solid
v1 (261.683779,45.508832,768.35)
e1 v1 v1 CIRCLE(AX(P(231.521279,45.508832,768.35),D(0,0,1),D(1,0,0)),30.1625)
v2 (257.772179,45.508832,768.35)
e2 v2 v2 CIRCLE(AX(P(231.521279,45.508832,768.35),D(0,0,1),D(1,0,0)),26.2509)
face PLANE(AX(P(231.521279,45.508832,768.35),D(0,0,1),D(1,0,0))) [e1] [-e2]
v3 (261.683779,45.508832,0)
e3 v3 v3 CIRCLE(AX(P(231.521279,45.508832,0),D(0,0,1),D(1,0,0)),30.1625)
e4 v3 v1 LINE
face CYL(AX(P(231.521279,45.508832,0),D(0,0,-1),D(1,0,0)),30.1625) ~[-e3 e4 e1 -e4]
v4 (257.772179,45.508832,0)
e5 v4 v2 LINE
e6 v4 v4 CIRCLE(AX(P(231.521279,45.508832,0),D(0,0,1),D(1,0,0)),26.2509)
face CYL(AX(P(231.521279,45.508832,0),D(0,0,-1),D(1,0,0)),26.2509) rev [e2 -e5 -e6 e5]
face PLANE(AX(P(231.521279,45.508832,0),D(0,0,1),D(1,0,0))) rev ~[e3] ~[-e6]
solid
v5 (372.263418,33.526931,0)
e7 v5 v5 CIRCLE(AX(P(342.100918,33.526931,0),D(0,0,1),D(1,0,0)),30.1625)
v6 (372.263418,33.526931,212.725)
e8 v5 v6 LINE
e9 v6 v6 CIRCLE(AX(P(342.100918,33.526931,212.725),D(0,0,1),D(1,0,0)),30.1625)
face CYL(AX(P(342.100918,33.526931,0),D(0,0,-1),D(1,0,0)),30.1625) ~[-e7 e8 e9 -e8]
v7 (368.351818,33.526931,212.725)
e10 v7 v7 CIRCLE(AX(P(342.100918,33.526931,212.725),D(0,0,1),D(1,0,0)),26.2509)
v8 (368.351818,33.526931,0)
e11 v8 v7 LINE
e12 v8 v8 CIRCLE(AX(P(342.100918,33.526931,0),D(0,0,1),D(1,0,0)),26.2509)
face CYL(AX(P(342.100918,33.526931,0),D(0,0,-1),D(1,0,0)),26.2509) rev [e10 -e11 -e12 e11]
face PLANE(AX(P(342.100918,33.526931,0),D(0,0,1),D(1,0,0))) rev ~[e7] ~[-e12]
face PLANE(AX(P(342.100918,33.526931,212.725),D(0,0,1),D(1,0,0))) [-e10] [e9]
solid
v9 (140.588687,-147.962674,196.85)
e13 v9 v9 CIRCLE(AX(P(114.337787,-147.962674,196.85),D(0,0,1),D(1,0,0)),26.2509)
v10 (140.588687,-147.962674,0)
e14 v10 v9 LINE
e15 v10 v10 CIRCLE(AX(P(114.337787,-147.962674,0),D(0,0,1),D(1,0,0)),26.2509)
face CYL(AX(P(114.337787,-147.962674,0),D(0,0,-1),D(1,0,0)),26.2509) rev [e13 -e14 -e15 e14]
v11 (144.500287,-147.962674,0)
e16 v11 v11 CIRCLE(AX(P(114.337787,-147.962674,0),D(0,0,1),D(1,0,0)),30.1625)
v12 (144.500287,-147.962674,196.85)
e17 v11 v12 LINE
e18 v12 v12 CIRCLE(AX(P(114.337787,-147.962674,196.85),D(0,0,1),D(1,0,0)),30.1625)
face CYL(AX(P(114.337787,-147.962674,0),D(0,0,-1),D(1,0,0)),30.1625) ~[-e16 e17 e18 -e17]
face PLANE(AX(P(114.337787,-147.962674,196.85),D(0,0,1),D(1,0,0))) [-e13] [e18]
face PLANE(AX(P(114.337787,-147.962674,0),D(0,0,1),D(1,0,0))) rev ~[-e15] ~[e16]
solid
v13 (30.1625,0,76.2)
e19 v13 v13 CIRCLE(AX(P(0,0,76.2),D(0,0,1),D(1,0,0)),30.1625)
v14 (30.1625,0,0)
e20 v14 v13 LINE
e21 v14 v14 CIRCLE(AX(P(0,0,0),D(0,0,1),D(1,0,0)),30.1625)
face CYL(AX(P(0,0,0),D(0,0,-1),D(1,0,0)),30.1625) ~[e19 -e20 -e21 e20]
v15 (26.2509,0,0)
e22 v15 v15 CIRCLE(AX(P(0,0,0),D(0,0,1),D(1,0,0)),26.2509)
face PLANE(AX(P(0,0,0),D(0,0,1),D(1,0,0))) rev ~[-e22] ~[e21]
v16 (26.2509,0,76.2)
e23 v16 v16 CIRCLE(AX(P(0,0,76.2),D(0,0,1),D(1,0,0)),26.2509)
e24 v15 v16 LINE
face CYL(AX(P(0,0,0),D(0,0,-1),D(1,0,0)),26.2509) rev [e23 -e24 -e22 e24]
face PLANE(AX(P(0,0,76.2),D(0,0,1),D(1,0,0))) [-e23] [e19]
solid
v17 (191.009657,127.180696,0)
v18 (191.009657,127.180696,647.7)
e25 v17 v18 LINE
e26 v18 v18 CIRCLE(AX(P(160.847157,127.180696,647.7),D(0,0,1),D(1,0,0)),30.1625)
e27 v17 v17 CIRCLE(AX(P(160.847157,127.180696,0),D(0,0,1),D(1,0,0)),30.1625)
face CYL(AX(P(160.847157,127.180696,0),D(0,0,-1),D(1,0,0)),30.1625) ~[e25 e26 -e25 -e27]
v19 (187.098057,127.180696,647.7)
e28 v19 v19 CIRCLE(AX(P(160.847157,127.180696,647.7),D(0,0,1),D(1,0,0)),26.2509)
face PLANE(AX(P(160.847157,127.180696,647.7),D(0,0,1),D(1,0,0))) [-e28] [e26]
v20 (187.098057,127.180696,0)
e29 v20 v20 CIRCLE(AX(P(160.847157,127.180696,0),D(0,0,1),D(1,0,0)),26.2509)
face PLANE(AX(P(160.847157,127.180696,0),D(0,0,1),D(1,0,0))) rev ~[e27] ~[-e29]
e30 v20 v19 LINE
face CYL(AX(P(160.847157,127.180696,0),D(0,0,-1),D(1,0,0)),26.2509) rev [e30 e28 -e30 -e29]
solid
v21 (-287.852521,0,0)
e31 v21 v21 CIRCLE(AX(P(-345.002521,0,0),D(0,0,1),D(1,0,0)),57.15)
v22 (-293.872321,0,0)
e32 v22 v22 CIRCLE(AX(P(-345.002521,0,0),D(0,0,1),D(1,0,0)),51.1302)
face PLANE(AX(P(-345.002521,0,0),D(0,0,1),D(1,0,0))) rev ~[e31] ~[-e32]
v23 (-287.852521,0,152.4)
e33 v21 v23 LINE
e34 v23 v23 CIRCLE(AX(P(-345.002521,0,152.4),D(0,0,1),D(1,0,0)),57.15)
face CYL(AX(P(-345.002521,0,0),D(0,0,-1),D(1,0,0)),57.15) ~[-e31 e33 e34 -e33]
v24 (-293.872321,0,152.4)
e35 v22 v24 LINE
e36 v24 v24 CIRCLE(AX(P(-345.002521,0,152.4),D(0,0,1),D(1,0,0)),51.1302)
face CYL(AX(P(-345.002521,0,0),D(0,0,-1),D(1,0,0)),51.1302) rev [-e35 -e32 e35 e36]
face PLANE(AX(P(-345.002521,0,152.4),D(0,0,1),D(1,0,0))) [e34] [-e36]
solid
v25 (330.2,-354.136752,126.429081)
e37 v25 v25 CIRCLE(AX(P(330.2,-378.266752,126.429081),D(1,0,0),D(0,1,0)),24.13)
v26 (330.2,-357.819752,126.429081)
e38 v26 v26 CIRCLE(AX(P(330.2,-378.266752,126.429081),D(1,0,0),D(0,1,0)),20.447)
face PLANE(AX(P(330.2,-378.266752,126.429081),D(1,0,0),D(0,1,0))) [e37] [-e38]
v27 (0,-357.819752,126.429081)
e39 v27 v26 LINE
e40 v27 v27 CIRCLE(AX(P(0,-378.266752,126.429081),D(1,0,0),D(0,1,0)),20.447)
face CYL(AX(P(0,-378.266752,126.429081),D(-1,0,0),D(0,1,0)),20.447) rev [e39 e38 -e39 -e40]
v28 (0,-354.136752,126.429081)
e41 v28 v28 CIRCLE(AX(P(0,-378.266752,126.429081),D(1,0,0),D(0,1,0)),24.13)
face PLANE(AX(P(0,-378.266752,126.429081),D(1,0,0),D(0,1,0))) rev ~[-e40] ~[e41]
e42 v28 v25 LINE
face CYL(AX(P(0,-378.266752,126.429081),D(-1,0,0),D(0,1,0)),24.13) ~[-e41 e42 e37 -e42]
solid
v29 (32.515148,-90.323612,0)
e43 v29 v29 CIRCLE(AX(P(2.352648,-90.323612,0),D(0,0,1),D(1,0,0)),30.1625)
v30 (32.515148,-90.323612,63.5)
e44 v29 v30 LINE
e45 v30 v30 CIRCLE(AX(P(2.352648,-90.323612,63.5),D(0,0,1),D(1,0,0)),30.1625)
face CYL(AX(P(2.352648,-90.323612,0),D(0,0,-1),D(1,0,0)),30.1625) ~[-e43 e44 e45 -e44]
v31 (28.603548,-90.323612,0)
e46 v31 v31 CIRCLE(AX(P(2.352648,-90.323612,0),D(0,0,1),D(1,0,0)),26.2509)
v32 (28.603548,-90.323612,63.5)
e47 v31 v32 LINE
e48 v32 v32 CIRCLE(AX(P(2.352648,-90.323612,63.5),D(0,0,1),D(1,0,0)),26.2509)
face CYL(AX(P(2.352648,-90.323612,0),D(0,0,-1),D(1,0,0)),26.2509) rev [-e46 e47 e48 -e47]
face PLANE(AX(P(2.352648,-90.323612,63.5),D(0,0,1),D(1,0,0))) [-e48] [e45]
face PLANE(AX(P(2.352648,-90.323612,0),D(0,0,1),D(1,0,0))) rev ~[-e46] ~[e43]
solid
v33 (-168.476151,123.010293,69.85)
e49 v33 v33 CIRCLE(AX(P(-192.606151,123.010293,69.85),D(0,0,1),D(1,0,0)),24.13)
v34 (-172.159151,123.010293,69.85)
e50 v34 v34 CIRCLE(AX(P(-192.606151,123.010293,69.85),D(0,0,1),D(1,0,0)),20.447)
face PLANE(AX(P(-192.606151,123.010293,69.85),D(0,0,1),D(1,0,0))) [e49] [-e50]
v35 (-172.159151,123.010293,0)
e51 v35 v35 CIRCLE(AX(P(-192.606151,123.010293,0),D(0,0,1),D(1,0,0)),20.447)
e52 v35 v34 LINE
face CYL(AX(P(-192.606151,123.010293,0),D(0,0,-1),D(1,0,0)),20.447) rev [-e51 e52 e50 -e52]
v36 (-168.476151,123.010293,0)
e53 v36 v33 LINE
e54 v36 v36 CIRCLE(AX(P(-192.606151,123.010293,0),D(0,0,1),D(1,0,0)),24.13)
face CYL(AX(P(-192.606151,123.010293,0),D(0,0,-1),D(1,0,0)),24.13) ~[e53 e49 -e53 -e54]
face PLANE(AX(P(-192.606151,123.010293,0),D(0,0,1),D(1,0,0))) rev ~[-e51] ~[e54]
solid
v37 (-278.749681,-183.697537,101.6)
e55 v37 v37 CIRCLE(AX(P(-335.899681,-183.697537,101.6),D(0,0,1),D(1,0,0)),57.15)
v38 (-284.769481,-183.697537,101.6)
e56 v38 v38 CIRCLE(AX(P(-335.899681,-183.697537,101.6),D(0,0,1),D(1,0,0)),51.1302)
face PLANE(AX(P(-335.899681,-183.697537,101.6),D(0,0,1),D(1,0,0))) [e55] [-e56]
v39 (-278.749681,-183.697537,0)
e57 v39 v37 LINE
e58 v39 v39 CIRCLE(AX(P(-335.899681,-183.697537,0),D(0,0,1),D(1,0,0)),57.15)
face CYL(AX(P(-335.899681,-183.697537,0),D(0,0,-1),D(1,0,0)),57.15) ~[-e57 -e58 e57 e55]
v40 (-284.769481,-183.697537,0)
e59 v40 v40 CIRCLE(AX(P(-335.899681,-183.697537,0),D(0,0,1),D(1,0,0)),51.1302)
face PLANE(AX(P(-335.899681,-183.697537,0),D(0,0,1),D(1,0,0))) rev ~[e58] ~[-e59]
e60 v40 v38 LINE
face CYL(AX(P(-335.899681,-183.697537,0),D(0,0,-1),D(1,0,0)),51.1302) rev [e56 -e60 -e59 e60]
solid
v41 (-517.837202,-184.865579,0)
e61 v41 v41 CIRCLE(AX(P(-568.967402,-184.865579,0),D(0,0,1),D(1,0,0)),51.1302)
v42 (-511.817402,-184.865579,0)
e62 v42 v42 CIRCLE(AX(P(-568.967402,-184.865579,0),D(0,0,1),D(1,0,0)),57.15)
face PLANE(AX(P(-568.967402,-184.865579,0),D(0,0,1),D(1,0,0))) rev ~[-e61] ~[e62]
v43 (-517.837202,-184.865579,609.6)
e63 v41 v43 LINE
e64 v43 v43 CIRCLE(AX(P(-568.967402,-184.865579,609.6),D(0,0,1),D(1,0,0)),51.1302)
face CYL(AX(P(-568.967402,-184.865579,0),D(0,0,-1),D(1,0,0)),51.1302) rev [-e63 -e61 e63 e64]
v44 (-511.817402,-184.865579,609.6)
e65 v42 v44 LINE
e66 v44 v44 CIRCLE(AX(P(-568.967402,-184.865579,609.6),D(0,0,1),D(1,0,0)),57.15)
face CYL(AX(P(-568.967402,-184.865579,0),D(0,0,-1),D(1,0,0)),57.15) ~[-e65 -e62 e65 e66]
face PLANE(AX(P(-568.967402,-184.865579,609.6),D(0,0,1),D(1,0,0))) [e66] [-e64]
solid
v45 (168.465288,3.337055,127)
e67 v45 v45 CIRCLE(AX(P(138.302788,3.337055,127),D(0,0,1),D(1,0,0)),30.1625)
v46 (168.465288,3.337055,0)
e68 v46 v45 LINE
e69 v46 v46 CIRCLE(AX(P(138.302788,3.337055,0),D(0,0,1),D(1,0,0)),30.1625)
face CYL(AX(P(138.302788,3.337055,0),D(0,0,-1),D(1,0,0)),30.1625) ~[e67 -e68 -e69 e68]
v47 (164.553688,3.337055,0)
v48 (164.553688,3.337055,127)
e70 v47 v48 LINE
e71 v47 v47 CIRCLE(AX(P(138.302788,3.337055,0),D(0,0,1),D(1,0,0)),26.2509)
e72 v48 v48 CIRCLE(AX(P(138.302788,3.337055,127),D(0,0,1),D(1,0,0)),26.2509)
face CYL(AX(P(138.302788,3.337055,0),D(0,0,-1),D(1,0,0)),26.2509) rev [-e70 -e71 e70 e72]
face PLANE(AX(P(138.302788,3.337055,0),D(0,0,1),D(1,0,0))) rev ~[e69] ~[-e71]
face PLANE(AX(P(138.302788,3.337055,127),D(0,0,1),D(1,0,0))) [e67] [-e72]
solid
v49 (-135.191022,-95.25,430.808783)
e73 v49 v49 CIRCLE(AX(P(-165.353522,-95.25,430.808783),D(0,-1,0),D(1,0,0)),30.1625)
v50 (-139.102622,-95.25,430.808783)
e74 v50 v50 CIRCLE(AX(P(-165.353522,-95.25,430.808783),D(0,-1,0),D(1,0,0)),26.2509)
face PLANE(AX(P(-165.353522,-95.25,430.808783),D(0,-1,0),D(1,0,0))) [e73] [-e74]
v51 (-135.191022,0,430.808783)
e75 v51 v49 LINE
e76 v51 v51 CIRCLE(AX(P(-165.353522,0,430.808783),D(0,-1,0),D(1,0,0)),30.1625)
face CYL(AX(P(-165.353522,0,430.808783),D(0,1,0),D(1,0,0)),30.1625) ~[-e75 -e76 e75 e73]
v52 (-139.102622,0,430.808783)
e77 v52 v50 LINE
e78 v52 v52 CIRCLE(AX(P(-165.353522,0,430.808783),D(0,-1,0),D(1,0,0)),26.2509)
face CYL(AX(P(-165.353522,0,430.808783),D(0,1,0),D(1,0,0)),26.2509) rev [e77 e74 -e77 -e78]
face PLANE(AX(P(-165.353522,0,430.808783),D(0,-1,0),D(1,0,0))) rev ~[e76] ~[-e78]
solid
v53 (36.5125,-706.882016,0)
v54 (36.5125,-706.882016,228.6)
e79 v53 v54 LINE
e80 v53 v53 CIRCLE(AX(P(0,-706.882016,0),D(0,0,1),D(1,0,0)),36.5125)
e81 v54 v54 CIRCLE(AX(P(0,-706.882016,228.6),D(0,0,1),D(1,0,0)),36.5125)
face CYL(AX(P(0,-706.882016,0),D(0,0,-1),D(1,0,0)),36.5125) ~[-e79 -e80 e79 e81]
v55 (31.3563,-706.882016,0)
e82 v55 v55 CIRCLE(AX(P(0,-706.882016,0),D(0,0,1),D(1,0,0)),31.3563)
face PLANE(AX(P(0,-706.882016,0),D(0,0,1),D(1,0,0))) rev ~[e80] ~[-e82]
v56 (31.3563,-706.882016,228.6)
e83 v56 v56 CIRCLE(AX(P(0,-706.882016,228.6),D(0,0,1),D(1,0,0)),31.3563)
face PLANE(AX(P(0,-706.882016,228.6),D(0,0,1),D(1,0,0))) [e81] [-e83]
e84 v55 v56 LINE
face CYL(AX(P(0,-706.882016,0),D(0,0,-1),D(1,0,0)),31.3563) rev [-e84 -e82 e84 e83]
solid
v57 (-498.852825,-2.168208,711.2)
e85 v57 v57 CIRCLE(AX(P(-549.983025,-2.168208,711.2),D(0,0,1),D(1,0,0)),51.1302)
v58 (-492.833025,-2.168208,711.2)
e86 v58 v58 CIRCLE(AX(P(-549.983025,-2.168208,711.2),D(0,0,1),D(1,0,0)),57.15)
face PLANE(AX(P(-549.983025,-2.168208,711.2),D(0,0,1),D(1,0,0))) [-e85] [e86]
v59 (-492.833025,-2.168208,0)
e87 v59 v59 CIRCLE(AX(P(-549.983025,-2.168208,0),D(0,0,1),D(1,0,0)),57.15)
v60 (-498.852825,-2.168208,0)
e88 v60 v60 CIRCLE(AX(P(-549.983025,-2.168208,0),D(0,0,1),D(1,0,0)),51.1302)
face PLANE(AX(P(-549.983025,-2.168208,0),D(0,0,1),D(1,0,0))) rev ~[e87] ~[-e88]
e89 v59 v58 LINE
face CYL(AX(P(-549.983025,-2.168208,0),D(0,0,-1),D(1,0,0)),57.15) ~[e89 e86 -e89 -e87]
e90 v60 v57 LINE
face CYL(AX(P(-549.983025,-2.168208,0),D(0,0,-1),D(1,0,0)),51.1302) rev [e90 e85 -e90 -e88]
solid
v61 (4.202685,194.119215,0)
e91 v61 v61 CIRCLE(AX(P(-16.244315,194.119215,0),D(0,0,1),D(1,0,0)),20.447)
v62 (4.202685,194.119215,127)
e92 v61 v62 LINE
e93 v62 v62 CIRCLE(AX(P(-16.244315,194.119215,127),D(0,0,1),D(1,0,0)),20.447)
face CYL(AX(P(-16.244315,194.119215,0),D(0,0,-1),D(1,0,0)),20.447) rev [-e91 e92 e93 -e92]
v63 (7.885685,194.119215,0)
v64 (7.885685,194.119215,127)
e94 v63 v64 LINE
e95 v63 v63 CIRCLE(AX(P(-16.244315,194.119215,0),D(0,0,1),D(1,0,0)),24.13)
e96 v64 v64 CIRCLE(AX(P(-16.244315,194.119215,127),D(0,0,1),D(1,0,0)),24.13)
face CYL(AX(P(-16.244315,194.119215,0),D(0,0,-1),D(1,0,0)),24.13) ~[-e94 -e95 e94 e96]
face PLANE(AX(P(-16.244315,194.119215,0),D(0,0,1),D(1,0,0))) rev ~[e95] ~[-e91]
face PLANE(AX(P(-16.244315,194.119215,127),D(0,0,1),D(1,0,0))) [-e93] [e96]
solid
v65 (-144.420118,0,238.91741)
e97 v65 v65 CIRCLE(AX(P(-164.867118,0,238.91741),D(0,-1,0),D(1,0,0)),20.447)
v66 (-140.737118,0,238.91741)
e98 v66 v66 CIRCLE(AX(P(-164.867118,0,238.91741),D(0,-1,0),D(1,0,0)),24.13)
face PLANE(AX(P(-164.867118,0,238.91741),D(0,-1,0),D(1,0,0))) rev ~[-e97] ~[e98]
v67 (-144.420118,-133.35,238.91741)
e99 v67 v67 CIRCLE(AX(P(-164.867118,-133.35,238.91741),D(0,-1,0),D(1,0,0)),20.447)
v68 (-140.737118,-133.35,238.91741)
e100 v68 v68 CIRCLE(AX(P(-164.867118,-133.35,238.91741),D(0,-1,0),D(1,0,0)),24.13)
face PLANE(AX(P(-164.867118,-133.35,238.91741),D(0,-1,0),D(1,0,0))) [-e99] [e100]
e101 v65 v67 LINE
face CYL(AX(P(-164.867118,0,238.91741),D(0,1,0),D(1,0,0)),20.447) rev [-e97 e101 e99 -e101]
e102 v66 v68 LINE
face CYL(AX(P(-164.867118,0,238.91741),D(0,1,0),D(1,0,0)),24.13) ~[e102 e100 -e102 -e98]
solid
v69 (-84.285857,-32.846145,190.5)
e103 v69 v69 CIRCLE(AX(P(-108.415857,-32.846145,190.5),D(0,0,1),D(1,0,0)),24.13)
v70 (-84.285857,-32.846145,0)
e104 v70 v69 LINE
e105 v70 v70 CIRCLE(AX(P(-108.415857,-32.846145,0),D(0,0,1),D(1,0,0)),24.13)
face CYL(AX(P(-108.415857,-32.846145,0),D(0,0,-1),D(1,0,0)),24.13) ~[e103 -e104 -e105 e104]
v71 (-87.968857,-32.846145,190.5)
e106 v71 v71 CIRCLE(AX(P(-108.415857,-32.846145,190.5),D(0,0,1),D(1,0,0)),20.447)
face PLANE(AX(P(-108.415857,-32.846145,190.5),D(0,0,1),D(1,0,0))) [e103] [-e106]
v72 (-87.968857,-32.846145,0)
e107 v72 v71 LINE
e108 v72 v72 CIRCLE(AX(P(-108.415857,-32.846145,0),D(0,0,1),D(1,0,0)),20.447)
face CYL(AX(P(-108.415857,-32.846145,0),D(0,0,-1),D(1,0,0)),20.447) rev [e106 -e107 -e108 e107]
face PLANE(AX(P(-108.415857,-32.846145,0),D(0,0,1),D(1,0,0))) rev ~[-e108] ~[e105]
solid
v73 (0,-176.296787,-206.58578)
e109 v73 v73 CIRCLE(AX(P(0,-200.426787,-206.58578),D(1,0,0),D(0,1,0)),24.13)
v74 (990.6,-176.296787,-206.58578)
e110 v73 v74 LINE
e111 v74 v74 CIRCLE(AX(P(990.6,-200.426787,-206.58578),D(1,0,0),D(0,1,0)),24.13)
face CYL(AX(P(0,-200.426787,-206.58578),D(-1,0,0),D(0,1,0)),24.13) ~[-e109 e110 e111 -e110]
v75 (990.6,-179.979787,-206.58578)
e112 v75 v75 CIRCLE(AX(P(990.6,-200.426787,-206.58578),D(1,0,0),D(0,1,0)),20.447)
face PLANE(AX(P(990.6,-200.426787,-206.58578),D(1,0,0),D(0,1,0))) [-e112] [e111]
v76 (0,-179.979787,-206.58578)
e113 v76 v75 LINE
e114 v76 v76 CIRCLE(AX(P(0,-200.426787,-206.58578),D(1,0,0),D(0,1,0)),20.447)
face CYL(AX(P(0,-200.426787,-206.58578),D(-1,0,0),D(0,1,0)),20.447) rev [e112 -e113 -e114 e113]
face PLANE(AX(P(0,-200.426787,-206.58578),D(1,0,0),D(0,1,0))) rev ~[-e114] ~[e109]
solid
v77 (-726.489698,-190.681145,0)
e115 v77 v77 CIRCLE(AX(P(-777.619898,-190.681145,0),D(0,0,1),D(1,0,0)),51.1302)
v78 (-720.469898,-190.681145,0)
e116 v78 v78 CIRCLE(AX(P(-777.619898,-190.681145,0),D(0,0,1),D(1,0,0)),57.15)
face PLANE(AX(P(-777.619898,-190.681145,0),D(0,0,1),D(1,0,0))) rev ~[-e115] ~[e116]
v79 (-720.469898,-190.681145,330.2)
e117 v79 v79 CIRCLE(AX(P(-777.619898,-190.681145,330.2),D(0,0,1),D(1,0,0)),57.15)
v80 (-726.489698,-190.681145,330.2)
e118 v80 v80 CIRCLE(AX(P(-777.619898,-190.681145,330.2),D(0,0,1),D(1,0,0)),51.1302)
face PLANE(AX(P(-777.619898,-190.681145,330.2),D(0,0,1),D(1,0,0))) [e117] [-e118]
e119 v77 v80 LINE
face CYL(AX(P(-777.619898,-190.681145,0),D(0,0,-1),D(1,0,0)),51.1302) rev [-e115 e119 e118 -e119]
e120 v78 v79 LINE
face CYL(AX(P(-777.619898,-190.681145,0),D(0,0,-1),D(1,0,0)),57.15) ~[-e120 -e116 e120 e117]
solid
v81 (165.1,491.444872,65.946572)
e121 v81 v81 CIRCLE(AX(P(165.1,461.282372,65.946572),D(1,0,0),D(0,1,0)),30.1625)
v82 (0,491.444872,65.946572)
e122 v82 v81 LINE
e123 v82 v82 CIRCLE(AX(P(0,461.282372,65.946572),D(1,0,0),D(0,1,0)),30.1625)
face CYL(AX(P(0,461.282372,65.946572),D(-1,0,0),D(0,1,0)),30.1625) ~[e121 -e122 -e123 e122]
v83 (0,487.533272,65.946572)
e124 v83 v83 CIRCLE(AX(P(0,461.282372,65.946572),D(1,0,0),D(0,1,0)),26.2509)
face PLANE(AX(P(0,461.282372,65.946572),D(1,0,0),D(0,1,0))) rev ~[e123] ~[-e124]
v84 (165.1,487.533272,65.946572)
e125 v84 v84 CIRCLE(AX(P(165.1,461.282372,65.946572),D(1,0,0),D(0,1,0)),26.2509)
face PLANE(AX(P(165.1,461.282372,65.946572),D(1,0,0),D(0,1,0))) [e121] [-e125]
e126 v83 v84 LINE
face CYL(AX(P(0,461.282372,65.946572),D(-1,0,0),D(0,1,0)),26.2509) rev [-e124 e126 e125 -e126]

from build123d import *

# Parameters (mm, degrees)
F0_R      = 30.1625
F0_R_2    = 26.2509
F1_DEPTH  = 76.2
F2_R      = 30.1625
F2_R_2    = 26.2509
F3_DEPTH  = 127
F4_R      = 30.1625
F4_R_2    = 26.2509
F5_DEPTH  = 768.35
F6_R      = 30.1625
F6_R_2    = 26.2509
F7_DEPTH  = 165.1
F9_R      = 24.13
F9_R_2    = 20.447
F10_DEPTH = 133.35
F11_R     = 24.13
F11_R_2   = 20.447
F12_DEPTH = 330.2
F13_R     = 24.13
F13_R_2   = 20.447
F14_DEPTH = 127
F15_R     = 24.13
F15_R_2   = 20.447
F16_DEPTH = 990.6
F8_R      = 24.13
F8_R_2    = 20.447
F17_DEPTH = 69.85
F18_R     = 24.13
F18_R_2   = 20.447
F19_DEPTH = 190.5
F20_R     = 30.1625
F20_R_2   = 26.2509
F21_DEPTH = 647.7
F22_R     = 57.15
F22_R_2   = 51.1302
F23_DEPTH = 152.4
F24_R     = 57.15
F24_R_2   = 51.1302
F25_DEPTH = 711.2
F26_R     = 57.15
F26_R_2   = 51.1302
F27_DEPTH = 101.6
F28_R     = 57.15
F28_R_2   = 51.1302
F29_DEPTH = 609.6
F30_R     = 57.15
F30_R_2   = 51.1302
F31_DEPTH = 330.2
F32_R     = 30.1625
F32_R_2   = 26.2509
F33_DEPTH = 212.725
F34_R     = 30.1625
F34_R_2   = 26.2509
F35_DEPTH = 95.25
F36_R     = 30.1625
F36_R_2   = 26.2509
F37_DEPTH = 63.5
F38_R     = 30.1625
F38_R_2   = 26.2509
F39_DEPTH = 196.85
F40_R     = 36.5125
F40_R_2   = 31.3563
F41_DEPTH = 228.6


with BuildPart() as f1:
    # F0 (on Top) → F1 (new body)
    with BuildSketch(Plane.XY):
        Circle(F0_R)
        Circle(F0_R_2, mode=Mode.SUBTRACT)
    extrude(amount=F1_DEPTH)


with BuildPart() as f3:
    # F2 (on Top) → F3 (new body)
    with BuildSketch(Plane.XY):
        with Locations((138.302788, 3.337055)):
            Circle(F2_R)
        with Locations((138.302788, 3.337055)):
            Circle(F2_R_2, mode=Mode.SUBTRACT)
    extrude(amount=F3_DEPTH)


with BuildPart() as f5:
    # F4 (on Top) → F5 (new body)
    with BuildSketch(Plane.XY):
        with Locations((231.521279, 45.508832)):
            Circle(F4_R)
        with Locations((231.521279, 45.508832)):
            Circle(F4_R_2, mode=Mode.SUBTRACT)
    extrude(amount=F5_DEPTH)


with BuildPart() as f7:
    # F6 (on Right) → F7 (new body)
    with BuildSketch(Plane.YZ):
        with Locations((461.282372, 65.946572)):
            Circle(F6_R)
        with Locations((461.282372, 65.946572)):
            Circle(F6_R_2, mode=Mode.SUBTRACT)
    extrude(amount=F7_DEPTH)


with BuildPart() as f10:
    # F9 (on Front) → F10 (new body)
    with BuildSketch(Plane.XZ):
        with Locations((-164.867118, 238.91741)):
            Circle(F9_R)
        with Locations((-164.867118, 238.91741)):
            Circle(F9_R_2, mode=Mode.SUBTRACT)
    extrude(amount=F10_DEPTH)


with BuildPart() as f12:
    # F11 (on Right) → F12 (new body)
    with BuildSketch(Plane.YZ):
        with Locations((-378.266752, 126.429081)):
            Circle(F11_R)
        with Locations((-378.266752, 126.429081)):
            Circle(F11_R_2, mode=Mode.SUBTRACT)
    extrude(amount=F12_DEPTH)


with BuildPart() as f14:
    # F13 (on Top) → F14 (new body)
    with BuildSketch(Plane.XY):
        with Locations((-16.244315, 194.119215)):
            Circle(F13_R)
        with Locations((-16.244315, 194.119215)):
            Circle(F13_R_2, mode=Mode.SUBTRACT)
    extrude(amount=F14_DEPTH)


with BuildPart() as f16:
    # F15 (on Right) → F16 (new body)
    with BuildSketch(Plane.YZ):
        with Locations((-200.426787, -206.58578)):
            Circle(F15_R)
        with Locations((-200.426787, -206.58578)):
            Circle(F15_R_2, mode=Mode.SUBTRACT)
    extrude(amount=F16_DEPTH)


with BuildPart() as f17:
    # F8 (on Top) → F17 (new body)
    with BuildSketch(Plane.XY):
        with Locations((-192.606151, 123.010293)):
            Circle(F8_R)
        with Locations((-192.606151, 123.010293)):
            Circle(F8_R_2, mode=Mode.SUBTRACT)
    extrude(amount=F17_DEPTH)


with BuildPart() as f19:
    # F18 (on Top) → F19 (new body)
    with BuildSketch(Plane.XY):
        with Locations((-108.415857, -32.846145)):
            Circle(F18_R)
        with Locations((-108.415857, -32.846145)):
            Circle(F18_R_2, mode=Mode.SUBTRACT)
    extrude(amount=F19_DEPTH)


with BuildPart() as f21:
    # F20 (on Top) → F21 (new body)
    with BuildSketch(Plane.XY):
        with Locations((160.847157, 127.180696)):
            Circle(F20_R)
        with Locations((160.847157, 127.180696)):
            Circle(F20_R_2, mode=Mode.SUBTRACT)
    extrude(amount=F21_DEPTH)


with BuildPart() as f23:
    # F22 (on Top) → F23 (new body)
    with BuildSketch(Plane.XY):
        with Locations((-345.002521, 0)):
            Circle(F22_R)
        with Locations((-345.002521, 0)):
            Circle(F22_R_2, mode=Mode.SUBTRACT)
    extrude(amount=F23_DEPTH)


with BuildPart() as f25:
    # F24 (on Top) → F25 (new body)
    with BuildSketch(Plane.XY):
        with Locations((-549.983025, -2.168208)):
            Circle(F24_R)
        with Locations((-549.983025, -2.168208)):
            Circle(F24_R_2, mode=Mode.SUBTRACT)
    extrude(amount=F25_DEPTH)


with BuildPart() as f27:
    # F26 (on Top) → F27 (new body)
    with BuildSketch(Plane.XY):
        with Locations((-335.899681, -183.697537)):
            Circle(F26_R)
        with Locations((-335.899681, -183.697537)):
            Circle(F26_R_2, mode=Mode.SUBTRACT)
    extrude(amount=F27_DEPTH)


with BuildPart() as f29:
    # F28 (on Top) → F29 (new body)
    with BuildSketch(Plane.XY):
        with Locations((-568.967402, -184.865579)):
            Circle(F28_R)
        with Locations((-568.967402, -184.865579)):
            Circle(F28_R_2, mode=Mode.SUBTRACT)
    extrude(amount=F29_DEPTH)


with BuildPart() as f31:
    # F30 (on Top) → F31 (new body)
    with BuildSketch(Plane.XY):
        with Locations((-777.619898, -190.681145)):
            Circle(F30_R)
        with Locations((-777.619898, -190.681145)):
            Circle(F30_R_2, mode=Mode.SUBTRACT)
    extrude(amount=F31_DEPTH)


with BuildPart() as f33:
    # F32 (on Top) → F33 (new body)
    with BuildSketch(Plane.XY):
        with Locations((342.100918, 33.526931)):
            Circle(F32_R)
        with Locations((342.100918, 33.526931)):
            Circle(F32_R_2, mode=Mode.SUBTRACT)
    extrude(amount=F33_DEPTH)


with BuildPart() as f35:
    # F34 (on Front) → F35 (new body)
    with BuildSketch(Plane.XZ):
        with Locations((-165.353522, 430.808783)):
            Circle(F34_R)
        with Locations((-165.353522, 430.808783)):
            Circle(F34_R_2, mode=Mode.SUBTRACT)
    extrude(amount=F35_DEPTH)


with BuildPart() as f37:
    # F36 (on Top) → F37 (new body)
    with BuildSketch(Plane.XY):
        with Locations((2.352648, -90.323612)):
            Circle(F36_R)
        with Locations((2.352648, -90.323612)):
            Circle(F36_R_2, mode=Mode.SUBTRACT)
    extrude(amount=F37_DEPTH)


with BuildPart() as f39:
    # F38 (on Top) → F39 (new body)
    with BuildSketch(Plane.XY):
        with Locations((114.337787, -147.962674)):
            Circle(F38_R)
        with Locations((114.337787, -147.962674)):
            Circle(F38_R_2, mode=Mode.SUBTRACT)
    extrude(amount=F39_DEPTH)


with BuildPart() as f41:
    # F40 (on Top) → F41 (new body)
    with BuildSketch(Plane.XY):
        with Locations((0, -706.882016)):
            Circle(F40_R)
        with Locations((0, -706.882016)):
            Circle(F40_R_2, mode=Mode.SUBTRACT)
    extrude(amount=F41_DEPTH)


solid = Compound([f1.part, f3.part, f5.part, f7.part, f10.part, f12.part, f14.part, f16.part, f17.part, f19.part, f21.part, f23.part, f25.part, f27.part, f29.part, f31.part, f33.part, f35.part, f37.part, f39.part, f41.part])
